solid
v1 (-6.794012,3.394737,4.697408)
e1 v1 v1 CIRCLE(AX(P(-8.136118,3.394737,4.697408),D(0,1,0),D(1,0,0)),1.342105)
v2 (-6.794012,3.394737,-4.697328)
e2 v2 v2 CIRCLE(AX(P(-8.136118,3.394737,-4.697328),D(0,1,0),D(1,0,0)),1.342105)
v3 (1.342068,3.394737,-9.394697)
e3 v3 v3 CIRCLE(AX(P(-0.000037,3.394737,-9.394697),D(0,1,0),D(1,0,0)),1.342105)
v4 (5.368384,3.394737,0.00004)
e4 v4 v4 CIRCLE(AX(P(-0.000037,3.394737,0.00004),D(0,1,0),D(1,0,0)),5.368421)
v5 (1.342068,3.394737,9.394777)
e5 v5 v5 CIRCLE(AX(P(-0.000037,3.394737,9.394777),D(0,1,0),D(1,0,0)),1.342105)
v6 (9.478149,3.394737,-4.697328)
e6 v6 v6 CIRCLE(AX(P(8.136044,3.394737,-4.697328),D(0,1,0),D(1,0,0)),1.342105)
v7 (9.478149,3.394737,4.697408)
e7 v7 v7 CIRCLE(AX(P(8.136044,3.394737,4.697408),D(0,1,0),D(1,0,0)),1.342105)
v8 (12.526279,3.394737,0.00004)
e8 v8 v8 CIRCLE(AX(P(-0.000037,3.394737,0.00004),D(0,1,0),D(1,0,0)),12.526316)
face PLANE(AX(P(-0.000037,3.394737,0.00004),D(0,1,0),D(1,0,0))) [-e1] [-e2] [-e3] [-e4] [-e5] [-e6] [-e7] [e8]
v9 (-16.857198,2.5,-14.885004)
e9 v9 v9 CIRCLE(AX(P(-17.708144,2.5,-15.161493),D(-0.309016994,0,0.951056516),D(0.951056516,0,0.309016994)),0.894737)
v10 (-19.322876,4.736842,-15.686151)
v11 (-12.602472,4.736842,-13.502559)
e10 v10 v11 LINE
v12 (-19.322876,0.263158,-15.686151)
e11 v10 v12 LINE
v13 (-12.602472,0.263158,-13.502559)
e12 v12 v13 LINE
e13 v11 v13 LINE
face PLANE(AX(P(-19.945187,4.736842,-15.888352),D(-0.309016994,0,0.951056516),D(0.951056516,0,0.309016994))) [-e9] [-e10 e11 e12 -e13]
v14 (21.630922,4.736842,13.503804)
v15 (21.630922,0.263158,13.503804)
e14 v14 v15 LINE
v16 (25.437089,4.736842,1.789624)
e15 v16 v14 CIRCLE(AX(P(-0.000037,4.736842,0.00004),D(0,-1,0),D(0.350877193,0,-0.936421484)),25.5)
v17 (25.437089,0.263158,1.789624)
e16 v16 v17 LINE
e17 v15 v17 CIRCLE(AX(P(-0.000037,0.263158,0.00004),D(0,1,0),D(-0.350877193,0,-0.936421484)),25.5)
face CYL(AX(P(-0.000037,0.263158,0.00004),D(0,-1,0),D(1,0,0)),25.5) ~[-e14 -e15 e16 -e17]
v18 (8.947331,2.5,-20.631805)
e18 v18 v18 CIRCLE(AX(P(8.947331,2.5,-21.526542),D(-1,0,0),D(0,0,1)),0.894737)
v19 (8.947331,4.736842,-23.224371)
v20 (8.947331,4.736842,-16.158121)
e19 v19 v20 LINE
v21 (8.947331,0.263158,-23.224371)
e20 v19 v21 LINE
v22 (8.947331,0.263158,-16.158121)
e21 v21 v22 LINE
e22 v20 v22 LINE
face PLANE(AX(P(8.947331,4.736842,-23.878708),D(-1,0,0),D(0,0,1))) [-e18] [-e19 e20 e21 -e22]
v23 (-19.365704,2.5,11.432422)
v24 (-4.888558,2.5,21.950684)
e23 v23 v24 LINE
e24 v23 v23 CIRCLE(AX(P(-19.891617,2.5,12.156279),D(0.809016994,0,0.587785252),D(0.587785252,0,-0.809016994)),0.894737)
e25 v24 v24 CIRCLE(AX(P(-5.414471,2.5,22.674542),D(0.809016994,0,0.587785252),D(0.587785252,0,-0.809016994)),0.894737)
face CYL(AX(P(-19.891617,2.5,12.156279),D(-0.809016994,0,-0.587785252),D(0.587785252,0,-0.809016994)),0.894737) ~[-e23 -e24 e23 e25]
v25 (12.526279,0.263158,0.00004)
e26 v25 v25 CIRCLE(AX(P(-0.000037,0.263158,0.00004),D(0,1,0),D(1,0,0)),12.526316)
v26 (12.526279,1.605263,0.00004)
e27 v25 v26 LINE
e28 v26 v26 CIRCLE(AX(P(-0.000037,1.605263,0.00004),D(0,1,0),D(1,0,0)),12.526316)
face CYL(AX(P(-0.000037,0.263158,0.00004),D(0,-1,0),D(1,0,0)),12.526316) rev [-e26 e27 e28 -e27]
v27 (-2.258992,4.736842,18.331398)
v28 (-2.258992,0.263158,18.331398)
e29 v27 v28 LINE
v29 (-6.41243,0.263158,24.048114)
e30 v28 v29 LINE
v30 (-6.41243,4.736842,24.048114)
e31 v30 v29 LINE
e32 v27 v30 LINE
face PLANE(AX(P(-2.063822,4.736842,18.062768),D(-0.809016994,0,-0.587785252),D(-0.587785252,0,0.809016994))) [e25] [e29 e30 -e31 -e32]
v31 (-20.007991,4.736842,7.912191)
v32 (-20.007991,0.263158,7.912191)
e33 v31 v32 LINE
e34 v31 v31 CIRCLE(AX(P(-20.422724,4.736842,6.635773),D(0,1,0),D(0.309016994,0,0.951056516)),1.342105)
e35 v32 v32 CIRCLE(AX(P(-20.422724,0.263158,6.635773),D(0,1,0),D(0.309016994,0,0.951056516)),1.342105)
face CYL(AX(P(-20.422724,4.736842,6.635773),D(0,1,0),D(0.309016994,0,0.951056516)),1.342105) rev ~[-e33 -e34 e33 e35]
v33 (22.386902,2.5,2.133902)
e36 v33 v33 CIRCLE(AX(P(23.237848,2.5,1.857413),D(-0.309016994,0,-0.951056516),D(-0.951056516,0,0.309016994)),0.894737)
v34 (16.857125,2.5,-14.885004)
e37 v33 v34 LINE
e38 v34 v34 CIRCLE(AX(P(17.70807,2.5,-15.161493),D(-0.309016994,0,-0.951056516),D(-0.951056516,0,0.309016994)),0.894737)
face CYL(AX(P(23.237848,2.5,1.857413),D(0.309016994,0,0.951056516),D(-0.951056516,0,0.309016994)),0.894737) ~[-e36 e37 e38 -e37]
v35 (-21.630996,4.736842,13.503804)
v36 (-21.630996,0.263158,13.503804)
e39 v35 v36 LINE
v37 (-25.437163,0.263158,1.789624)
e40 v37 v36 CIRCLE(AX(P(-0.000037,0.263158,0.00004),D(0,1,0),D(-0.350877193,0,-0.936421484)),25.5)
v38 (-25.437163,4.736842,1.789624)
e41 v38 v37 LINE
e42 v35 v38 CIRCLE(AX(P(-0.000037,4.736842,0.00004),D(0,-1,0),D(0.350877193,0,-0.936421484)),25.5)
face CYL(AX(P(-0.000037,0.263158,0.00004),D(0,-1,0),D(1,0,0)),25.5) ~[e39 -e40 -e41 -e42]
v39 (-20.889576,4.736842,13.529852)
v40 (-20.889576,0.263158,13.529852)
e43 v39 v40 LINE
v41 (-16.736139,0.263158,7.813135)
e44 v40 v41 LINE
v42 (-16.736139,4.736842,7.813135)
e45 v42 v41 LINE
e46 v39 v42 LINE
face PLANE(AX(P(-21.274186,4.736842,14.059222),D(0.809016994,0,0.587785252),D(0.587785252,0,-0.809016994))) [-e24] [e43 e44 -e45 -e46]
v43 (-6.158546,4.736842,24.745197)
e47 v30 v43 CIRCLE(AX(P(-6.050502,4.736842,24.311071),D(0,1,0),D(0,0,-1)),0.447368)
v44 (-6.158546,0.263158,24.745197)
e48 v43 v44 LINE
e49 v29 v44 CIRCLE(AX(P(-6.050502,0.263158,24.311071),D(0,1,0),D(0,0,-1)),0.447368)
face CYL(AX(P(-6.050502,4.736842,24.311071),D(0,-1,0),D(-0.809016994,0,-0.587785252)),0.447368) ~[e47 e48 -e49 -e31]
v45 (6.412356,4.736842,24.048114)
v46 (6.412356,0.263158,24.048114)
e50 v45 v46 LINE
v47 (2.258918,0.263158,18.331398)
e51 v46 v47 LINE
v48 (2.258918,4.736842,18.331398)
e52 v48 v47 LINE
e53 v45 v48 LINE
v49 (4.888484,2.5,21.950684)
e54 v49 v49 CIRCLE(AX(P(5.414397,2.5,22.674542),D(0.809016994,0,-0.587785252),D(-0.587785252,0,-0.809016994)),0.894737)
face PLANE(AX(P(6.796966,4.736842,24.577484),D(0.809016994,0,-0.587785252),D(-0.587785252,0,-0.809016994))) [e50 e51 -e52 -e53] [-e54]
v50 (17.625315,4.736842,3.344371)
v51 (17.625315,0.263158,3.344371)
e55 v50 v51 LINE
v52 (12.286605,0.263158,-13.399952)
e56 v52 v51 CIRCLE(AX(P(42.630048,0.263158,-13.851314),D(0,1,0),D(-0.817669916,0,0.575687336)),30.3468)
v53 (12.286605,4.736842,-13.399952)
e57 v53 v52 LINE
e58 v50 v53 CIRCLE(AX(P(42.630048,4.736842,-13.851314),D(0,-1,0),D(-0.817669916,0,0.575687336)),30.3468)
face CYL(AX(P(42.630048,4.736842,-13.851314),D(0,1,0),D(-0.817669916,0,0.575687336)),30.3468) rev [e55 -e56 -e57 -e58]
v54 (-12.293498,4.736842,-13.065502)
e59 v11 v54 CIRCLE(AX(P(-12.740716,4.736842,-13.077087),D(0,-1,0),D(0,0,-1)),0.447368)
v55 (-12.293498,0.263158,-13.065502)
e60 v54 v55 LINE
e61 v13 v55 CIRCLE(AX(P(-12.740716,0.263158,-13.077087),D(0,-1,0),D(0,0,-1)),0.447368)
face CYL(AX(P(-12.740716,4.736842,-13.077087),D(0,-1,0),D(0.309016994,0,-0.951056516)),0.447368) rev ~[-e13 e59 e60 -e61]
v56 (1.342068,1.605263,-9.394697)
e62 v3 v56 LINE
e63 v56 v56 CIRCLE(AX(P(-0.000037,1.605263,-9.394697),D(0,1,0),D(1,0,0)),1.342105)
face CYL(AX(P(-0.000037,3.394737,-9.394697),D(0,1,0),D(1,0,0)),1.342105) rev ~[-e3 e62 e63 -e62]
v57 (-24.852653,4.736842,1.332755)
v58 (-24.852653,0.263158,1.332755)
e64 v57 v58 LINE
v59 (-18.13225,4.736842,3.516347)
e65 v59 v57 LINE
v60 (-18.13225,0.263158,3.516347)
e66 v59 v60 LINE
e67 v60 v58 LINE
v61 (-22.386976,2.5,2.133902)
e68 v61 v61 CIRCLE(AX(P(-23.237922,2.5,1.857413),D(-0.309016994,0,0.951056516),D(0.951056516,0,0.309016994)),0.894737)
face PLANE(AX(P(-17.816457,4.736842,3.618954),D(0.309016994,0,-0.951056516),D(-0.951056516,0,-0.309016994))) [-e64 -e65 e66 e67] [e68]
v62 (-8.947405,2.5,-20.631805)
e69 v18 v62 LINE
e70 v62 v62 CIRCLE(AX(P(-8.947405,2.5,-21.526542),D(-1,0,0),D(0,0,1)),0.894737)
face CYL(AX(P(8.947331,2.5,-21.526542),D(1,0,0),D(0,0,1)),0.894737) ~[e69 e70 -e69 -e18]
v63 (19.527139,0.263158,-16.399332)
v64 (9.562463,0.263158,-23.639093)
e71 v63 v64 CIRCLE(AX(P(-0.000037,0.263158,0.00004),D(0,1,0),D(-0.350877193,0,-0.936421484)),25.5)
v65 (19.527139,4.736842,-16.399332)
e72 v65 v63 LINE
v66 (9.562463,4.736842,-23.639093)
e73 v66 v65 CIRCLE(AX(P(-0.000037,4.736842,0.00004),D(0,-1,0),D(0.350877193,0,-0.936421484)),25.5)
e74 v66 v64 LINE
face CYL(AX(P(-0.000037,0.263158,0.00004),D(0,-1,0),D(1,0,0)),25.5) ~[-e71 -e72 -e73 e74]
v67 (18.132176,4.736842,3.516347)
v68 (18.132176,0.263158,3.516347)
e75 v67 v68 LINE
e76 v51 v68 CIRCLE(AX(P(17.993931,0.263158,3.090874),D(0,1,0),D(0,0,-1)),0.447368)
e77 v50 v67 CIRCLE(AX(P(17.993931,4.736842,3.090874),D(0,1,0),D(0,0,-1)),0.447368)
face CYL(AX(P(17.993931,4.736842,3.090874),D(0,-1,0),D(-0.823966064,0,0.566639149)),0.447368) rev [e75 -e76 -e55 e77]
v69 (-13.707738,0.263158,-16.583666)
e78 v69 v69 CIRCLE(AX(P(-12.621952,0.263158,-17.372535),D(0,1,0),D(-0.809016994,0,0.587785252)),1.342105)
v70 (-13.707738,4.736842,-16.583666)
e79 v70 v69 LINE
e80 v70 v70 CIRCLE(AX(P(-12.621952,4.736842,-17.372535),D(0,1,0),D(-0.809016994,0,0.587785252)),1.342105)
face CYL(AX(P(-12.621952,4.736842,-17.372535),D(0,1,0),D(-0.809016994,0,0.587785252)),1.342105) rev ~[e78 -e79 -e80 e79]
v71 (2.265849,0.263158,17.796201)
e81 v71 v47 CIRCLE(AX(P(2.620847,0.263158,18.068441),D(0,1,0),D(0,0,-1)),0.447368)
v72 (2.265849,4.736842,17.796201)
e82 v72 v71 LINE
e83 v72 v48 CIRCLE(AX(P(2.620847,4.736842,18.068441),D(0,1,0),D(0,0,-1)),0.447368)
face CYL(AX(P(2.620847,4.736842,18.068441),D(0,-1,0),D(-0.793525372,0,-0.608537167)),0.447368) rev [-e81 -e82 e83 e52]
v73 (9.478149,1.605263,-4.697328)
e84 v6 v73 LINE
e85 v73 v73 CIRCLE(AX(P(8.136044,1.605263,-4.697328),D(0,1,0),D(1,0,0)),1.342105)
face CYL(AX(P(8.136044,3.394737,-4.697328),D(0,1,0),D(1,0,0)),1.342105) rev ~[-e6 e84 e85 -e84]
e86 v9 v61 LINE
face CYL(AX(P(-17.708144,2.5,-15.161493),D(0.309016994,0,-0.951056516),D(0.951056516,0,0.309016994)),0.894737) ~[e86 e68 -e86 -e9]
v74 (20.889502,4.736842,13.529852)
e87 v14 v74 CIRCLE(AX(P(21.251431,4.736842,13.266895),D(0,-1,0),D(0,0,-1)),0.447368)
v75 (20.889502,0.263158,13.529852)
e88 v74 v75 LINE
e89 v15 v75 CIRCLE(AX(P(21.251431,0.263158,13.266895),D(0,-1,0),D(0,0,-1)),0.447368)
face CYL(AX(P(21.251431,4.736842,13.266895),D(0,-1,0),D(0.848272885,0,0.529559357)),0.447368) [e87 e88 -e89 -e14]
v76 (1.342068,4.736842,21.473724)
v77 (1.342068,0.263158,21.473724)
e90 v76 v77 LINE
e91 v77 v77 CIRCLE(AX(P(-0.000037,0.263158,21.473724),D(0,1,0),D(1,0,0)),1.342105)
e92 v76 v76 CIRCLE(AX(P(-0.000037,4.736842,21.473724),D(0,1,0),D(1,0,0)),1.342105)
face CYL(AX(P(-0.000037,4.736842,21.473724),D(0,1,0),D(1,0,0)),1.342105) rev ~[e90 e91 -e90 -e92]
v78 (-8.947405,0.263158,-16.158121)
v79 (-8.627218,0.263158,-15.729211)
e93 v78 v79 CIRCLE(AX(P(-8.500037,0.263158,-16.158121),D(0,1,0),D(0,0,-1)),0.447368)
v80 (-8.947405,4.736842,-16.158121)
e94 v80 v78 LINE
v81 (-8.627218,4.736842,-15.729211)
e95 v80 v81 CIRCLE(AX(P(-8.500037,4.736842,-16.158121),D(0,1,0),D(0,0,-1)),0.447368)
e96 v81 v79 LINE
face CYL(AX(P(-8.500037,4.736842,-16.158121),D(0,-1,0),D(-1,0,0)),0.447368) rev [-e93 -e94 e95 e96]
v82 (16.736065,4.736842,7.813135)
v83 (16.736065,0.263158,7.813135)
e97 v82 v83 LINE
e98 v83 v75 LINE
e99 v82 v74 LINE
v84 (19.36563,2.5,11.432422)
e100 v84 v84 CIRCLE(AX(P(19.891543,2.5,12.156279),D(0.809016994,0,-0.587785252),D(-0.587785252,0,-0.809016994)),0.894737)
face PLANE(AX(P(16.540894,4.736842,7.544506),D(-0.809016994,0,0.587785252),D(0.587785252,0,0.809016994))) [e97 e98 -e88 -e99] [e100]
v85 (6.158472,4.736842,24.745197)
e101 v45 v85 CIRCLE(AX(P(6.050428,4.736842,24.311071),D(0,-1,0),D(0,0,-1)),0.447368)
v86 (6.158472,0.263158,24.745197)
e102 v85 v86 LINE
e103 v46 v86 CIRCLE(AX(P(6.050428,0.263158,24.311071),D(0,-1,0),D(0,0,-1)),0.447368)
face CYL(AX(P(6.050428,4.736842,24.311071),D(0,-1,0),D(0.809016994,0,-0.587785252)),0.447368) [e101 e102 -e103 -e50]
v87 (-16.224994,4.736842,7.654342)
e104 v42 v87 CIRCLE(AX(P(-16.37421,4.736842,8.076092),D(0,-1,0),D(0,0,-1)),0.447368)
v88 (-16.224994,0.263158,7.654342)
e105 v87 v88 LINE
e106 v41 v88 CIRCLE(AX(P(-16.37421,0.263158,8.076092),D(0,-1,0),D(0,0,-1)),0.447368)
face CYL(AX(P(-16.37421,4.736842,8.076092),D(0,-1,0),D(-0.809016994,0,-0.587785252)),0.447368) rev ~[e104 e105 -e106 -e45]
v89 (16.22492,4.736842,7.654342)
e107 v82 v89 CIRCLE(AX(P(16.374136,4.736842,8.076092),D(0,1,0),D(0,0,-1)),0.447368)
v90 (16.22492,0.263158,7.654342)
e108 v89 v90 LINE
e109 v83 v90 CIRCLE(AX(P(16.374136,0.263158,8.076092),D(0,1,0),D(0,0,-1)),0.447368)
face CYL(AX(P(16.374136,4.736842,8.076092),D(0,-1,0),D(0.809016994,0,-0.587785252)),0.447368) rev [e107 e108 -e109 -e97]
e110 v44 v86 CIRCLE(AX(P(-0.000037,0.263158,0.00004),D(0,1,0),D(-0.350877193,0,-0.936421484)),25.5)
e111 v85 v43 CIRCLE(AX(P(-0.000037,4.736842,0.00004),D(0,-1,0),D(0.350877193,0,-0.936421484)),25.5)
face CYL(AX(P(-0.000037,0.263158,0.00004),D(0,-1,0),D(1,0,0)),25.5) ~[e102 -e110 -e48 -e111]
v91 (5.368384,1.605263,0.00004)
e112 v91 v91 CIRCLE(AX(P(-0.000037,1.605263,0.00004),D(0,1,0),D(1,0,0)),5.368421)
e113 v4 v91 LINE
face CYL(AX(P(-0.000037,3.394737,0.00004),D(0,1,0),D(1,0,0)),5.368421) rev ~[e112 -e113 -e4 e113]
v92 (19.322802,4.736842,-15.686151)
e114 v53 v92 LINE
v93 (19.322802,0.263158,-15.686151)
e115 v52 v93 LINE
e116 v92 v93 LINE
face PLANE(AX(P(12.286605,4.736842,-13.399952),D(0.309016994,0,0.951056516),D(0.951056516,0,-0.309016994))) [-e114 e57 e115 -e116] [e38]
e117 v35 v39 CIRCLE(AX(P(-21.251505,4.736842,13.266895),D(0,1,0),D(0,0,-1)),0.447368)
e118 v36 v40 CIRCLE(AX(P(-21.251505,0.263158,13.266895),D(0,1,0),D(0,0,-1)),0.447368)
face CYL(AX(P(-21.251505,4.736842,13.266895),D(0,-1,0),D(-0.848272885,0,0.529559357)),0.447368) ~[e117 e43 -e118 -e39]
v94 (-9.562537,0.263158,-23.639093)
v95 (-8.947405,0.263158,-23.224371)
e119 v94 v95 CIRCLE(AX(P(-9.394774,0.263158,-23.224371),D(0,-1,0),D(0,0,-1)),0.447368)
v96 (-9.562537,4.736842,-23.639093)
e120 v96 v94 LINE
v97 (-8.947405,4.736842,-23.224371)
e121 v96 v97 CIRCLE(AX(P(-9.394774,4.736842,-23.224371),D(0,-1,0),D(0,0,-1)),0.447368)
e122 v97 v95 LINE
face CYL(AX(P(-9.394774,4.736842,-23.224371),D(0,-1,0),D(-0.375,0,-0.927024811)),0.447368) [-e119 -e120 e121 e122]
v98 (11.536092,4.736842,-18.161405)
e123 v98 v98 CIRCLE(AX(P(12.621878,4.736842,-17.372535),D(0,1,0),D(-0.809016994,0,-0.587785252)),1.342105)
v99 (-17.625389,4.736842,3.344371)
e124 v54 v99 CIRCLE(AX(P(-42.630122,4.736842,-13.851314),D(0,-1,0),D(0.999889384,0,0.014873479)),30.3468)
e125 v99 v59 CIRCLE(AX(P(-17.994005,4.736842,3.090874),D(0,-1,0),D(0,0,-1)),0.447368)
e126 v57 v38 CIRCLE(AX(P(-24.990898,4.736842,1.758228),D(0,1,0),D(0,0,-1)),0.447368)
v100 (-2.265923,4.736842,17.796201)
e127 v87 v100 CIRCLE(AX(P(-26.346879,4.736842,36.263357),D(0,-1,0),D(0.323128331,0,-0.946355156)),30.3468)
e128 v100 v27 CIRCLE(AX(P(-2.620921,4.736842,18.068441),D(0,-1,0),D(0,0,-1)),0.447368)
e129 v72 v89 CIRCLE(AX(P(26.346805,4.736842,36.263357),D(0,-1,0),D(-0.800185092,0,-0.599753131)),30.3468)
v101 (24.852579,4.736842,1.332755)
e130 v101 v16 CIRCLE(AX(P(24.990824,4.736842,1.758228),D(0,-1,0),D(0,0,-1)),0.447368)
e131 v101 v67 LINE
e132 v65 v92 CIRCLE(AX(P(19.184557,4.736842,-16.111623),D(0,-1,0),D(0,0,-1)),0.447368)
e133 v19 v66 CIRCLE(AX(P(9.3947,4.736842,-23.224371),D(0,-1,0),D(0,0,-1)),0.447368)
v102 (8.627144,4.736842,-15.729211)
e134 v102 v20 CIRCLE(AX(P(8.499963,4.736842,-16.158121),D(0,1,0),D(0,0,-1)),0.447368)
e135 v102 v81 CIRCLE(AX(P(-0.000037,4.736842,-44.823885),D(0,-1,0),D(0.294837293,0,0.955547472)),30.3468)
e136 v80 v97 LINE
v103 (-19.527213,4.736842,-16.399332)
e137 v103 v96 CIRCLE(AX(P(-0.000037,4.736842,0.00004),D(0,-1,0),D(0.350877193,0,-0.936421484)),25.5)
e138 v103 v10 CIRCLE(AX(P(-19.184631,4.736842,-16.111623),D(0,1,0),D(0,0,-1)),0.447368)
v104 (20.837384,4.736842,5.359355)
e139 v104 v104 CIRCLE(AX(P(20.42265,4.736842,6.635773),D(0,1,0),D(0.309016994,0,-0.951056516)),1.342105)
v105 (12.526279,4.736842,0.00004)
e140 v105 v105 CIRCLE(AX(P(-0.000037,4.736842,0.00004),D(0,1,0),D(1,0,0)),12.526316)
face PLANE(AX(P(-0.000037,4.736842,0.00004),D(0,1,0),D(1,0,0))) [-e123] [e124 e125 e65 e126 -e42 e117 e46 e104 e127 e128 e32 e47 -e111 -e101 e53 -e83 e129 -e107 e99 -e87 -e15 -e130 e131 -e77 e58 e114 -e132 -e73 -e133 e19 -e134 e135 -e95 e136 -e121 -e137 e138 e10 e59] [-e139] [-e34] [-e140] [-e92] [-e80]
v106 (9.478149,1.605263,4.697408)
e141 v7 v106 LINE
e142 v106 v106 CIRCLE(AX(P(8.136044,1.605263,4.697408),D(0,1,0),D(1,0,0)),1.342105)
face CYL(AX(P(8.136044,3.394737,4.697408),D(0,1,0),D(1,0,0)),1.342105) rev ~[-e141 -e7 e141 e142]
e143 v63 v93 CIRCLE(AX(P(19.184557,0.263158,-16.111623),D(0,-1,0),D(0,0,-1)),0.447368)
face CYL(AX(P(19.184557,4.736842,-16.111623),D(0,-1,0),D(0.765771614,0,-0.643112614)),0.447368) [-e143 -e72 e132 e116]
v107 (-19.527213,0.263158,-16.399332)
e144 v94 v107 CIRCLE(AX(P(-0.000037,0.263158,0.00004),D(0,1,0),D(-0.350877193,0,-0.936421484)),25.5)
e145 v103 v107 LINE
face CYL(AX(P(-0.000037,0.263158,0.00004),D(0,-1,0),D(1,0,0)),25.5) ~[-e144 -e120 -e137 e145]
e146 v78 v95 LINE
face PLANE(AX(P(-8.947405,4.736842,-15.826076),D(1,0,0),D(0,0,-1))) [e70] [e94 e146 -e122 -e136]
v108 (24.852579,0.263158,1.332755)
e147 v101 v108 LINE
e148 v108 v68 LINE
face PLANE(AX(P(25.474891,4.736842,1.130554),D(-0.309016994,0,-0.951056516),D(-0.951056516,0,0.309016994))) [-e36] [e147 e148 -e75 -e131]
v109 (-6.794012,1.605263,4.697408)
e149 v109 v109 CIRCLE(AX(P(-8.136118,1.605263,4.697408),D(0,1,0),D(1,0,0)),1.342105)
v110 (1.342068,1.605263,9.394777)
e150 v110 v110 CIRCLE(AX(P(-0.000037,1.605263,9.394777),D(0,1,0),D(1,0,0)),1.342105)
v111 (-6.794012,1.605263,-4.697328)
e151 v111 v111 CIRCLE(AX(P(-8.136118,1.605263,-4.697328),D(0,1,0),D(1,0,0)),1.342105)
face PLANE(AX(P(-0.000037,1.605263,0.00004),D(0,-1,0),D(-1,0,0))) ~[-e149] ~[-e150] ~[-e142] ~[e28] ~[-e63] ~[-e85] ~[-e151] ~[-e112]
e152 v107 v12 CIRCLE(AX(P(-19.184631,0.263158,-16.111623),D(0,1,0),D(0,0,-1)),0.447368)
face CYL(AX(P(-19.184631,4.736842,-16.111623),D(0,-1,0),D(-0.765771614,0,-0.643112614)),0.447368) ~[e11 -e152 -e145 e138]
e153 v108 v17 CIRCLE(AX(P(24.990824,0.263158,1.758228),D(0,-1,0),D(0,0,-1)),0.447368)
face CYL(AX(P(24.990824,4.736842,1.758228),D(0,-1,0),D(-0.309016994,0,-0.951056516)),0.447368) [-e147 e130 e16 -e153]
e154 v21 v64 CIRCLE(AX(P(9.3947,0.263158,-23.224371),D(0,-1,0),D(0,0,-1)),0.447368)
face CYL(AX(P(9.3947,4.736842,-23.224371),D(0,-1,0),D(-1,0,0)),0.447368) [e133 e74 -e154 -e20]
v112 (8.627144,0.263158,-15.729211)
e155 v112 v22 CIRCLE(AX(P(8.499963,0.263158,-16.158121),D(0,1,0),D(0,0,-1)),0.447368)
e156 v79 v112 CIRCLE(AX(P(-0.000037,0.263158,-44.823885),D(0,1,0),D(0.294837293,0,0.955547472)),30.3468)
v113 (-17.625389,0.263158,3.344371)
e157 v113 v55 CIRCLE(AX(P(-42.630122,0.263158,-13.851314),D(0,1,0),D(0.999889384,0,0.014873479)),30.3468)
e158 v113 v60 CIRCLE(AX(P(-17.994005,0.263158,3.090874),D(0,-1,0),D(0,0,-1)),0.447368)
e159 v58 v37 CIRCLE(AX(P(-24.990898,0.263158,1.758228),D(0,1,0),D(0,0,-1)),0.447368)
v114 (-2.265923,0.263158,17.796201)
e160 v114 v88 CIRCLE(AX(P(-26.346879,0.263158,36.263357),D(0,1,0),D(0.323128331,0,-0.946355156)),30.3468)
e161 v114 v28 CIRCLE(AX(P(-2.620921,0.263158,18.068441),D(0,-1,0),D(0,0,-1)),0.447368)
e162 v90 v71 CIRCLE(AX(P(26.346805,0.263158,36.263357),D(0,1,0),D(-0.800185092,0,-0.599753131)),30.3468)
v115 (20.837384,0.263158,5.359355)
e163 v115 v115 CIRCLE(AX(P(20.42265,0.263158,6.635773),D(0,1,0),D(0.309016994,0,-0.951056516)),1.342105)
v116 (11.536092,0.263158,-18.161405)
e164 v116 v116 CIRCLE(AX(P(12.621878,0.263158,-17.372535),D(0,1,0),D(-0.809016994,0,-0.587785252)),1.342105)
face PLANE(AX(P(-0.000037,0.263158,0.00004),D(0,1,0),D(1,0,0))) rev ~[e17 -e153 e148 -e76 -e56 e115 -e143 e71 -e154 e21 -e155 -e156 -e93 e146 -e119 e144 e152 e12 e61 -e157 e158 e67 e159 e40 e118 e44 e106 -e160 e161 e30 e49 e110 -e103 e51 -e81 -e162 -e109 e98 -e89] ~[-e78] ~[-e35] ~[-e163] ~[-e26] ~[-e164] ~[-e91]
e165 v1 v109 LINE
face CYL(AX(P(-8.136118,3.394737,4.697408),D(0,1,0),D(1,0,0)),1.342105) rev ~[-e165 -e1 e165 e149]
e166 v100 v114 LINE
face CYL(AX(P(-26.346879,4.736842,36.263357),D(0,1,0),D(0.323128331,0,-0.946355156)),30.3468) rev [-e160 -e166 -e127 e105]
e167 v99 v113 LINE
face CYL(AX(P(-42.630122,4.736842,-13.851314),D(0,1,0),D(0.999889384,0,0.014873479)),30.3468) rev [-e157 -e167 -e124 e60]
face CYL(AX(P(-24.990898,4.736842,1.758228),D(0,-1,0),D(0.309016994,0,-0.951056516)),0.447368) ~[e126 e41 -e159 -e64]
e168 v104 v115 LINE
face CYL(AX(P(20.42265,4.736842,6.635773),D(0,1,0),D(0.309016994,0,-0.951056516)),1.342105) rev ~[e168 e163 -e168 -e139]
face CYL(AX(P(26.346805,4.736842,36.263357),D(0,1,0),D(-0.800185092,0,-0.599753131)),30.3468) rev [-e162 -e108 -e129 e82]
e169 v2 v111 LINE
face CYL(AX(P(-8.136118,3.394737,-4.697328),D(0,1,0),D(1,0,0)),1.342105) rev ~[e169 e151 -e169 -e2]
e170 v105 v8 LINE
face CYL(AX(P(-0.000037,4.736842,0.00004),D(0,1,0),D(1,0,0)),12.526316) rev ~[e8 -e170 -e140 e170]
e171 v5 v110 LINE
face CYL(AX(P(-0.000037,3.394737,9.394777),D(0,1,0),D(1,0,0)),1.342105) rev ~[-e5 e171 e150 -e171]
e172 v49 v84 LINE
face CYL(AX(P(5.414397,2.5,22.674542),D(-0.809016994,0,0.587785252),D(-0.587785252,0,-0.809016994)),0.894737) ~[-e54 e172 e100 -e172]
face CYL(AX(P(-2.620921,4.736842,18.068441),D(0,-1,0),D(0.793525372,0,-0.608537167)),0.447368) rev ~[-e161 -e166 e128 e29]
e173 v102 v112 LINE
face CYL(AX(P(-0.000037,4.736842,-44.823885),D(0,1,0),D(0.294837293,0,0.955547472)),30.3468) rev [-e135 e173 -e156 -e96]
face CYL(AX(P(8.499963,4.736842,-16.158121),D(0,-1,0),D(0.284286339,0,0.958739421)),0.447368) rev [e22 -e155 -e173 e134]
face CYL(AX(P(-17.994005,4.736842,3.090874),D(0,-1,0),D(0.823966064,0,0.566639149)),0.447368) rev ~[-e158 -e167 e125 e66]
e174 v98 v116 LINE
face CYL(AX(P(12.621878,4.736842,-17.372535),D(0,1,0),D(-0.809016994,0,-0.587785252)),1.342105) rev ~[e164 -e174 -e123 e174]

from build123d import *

# Parameters (mm, degrees)
SKETCH1_R           = 28.5
BOSS_EXTRUDE1_DEPTH = 5
CUT_EXTRUDE1_DEPTH  = 6
CIRPATTERN1_COUNT   = 5
SKETCH3_R           = 14
CUT_EXTRUDE2_DEPTH  = 1.5
SKETCH4_R           = 1.5
SKETCH4_R_2         = 6
CUT_EXTRUDE3_DEPTH  = 4.5
SKETCH5_R           = 1.5
CUT_EXTRUDE4_DEPTH  = 6
CIRPATTERN2_COUNT   = 5
FILLET1_R           = 0.5
SKETCH7_R           = 1
BOSS_EXTRUDE2_DEPTH = 20
CIRPATTERN3_COUNT   = 5
SCALE_1_SCALE       = 0.894736842


with BuildPart() as part:
    # Sketch1 → Boss-Extrude1 (new body)
    with BuildSketch(Plane(origin=(0, 0, 0), x_dir=(1, 0, 0), z_dir=(0, 1, 0))):
        Circle(SKETCH1_R)
    extrude(amount=BOSS_EXTRUDE1_DEPTH)

    # Sketch2 → Cut-Extrude1 (cut, through all)
    with BuildSketch(Plane(origin=(0, 5, 0), x_dir=(1, 0, 0), z_dir=(0, 1, 0))):
        with BuildLine():
            Line((10, 26.68801229), (10, 17.68801229))
            ThreePointArc((10, 17.68801229), (0, 16.180315356), (-10, 17.68801229))
            Line((-10, 17.68801229), (-10, 26.68801229))
            ThreePointArc((-10, 26.68801229), (0, 28.5), (10, 26.68801229))
        make_face()
    cut_extrude1 = extrude(amount=-CUT_EXTRUDE1_DEPTH, mode=Mode.SUBTRACT)

    # CirPattern1: Cut-Extrude1 ×5 about axis
    cirpattern1_axis = Axis((0, 0, 0), (0, 1, 0))
    for i in range(1, CIRPATTERN1_COUNT):
        add(cut_extrude1.rotate(cirpattern1_axis, i * 360 / CIRPATTERN1_COUNT), mode=Mode.SUBTRACT)

    # Sketch3 → Cut-Extrude2 (cut)
    with BuildSketch(Plane(origin=(0, 5, 0), x_dir=(1, 0, 0), z_dir=(0, 1, 0))):
        Circle(SKETCH3_R)
    cut_extrude2 = extrude(amount=-CUT_EXTRUDE2_DEPTH, mode=Mode.SUBTRACT)

    # Mirror1: Cut-Extrude2 across plane
    add(cut_extrude2.mirror(Plane.ZX.offset(2.5)), mode=Mode.SUBTRACT)

    # Sketch4 → Cut-Extrude3 (cut, through all)
    with BuildSketch(Plane(origin=(0, 3.5, 0), x_dir=(1, 0, 0), z_dir=(0, 1, 0))):
        with Locations((0, 10.5)):
            Circle(SKETCH4_R)
        with Locations((9.09326674, 5.25)):
            Circle(SKETCH4_R)
        with Locations((9.09326674, -5.25)):
            Circle(SKETCH4_R)
        with Locations((0, -10.5)):
            Circle(SKETCH4_R)
        with Locations((-9.09326674, -5.25)):
            Circle(SKETCH4_R)
        with Locations((-9.09326674, 5.25)):
            Circle(SKETCH4_R)
        Circle(SKETCH4_R_2)
    extrude(amount=-CUT_EXTRUDE3_DEPTH, mode=Mode.SUBTRACT)

    # Sketch5 → Cut-Extrude4 (cut, through all)
    with BuildSketch(Plane(origin=(0, 5, 0), x_dir=(1, 0, 0), z_dir=(0, 1, 0))):
        with Locations((0, -24)):
            Circle(SKETCH5_R)
    cut_extrude4 = extrude(amount=-CUT_EXTRUDE4_DEPTH, mode=Mode.SUBTRACT)

    # CirPattern2: Cut-Extrude4 ×5 about axis
    cirpattern2_axis = Axis((0, 0, 0), (0, 1, 0))
    for i in range(1, CIRPATTERN2_COUNT):
        add(cut_extrude4.rotate(cirpattern2_axis, i * 360 / CIRPATTERN2_COUNT), mode=Mode.SUBTRACT)

    # Fillet1
    fillet1_edges = [part.edges().sort_by_distance(p)[0] for p in [
        (-10, 2.5, -26.68801229),
        (10, 2.5, -26.68801229),
        (10, 2.5, -17.68801229),
        (-10, 2.5, -17.68801229),
        (22.291638052, 2.5, -17.757614507),
        (28.471977939, 2.5, 1.263515819),
        (19.912469293, 2.5, 4.044668769),
        (23.776989981, 2.5, 15.713202966),
        (7.596650093, 2.5, 27.468908012),
        (2.306582823, 2.5, 20.187755062),
        (18.48692271, 2.5, 8.432050017),
        (-7.596650093, 2.5, 27.468908012),
        (-23.776989981, 2.5, 15.713202966),
        (-18.48692271, 2.5, 8.432050017),
        (-2.306582823, 2.5, 20.187755062),
        (-28.471977939, 2.5, 1.263515819),
        (-22.291638052, 2.5, -17.757614507),
        (-13.732129405, 2.5, -14.976461557),
        (-19.912469293, 2.5, 4.044668769),
    ]]
    fillet(fillet1_edges, radius=FILLET1_R)

    # Sketch7 → Boss-Extrude2 (add)
    with BuildSketch(Plane(origin=(-8.090169944, 0, -5.877852523), x_dir=(0.587785252, 0, -0.809016994), z_dir=(0.809016994, 0, 0.587785252))):
        with Locations((-24.059120617, 2.5)):
            Circle(SKETCH7_R)
    boss_extrude2 = extrude(amount=BOSS_EXTRUDE2_DEPTH)

    # CirPattern3: Boss-Extrude2 ×5 about axis
    cirpattern3_axis = Axis((0, 3.5, 0), (0, 1, 0))
    for i in range(1, CIRPATTERN3_COUNT):
        add(boss_extrude2.rotate(cirpattern3_axis, i * 360 / CIRPATTERN3_COUNT))


with BuildPart() as part_1:
    # ｽｹｰﾙ1: scaled about (-0.000351369, 2.5, 0.00037965)
    add(part.part.scale(SCALE_1_SCALE).moved(Location((-3.6986e-05, 0.263157895, 3.9963e-05))))


solid = part_1.part
